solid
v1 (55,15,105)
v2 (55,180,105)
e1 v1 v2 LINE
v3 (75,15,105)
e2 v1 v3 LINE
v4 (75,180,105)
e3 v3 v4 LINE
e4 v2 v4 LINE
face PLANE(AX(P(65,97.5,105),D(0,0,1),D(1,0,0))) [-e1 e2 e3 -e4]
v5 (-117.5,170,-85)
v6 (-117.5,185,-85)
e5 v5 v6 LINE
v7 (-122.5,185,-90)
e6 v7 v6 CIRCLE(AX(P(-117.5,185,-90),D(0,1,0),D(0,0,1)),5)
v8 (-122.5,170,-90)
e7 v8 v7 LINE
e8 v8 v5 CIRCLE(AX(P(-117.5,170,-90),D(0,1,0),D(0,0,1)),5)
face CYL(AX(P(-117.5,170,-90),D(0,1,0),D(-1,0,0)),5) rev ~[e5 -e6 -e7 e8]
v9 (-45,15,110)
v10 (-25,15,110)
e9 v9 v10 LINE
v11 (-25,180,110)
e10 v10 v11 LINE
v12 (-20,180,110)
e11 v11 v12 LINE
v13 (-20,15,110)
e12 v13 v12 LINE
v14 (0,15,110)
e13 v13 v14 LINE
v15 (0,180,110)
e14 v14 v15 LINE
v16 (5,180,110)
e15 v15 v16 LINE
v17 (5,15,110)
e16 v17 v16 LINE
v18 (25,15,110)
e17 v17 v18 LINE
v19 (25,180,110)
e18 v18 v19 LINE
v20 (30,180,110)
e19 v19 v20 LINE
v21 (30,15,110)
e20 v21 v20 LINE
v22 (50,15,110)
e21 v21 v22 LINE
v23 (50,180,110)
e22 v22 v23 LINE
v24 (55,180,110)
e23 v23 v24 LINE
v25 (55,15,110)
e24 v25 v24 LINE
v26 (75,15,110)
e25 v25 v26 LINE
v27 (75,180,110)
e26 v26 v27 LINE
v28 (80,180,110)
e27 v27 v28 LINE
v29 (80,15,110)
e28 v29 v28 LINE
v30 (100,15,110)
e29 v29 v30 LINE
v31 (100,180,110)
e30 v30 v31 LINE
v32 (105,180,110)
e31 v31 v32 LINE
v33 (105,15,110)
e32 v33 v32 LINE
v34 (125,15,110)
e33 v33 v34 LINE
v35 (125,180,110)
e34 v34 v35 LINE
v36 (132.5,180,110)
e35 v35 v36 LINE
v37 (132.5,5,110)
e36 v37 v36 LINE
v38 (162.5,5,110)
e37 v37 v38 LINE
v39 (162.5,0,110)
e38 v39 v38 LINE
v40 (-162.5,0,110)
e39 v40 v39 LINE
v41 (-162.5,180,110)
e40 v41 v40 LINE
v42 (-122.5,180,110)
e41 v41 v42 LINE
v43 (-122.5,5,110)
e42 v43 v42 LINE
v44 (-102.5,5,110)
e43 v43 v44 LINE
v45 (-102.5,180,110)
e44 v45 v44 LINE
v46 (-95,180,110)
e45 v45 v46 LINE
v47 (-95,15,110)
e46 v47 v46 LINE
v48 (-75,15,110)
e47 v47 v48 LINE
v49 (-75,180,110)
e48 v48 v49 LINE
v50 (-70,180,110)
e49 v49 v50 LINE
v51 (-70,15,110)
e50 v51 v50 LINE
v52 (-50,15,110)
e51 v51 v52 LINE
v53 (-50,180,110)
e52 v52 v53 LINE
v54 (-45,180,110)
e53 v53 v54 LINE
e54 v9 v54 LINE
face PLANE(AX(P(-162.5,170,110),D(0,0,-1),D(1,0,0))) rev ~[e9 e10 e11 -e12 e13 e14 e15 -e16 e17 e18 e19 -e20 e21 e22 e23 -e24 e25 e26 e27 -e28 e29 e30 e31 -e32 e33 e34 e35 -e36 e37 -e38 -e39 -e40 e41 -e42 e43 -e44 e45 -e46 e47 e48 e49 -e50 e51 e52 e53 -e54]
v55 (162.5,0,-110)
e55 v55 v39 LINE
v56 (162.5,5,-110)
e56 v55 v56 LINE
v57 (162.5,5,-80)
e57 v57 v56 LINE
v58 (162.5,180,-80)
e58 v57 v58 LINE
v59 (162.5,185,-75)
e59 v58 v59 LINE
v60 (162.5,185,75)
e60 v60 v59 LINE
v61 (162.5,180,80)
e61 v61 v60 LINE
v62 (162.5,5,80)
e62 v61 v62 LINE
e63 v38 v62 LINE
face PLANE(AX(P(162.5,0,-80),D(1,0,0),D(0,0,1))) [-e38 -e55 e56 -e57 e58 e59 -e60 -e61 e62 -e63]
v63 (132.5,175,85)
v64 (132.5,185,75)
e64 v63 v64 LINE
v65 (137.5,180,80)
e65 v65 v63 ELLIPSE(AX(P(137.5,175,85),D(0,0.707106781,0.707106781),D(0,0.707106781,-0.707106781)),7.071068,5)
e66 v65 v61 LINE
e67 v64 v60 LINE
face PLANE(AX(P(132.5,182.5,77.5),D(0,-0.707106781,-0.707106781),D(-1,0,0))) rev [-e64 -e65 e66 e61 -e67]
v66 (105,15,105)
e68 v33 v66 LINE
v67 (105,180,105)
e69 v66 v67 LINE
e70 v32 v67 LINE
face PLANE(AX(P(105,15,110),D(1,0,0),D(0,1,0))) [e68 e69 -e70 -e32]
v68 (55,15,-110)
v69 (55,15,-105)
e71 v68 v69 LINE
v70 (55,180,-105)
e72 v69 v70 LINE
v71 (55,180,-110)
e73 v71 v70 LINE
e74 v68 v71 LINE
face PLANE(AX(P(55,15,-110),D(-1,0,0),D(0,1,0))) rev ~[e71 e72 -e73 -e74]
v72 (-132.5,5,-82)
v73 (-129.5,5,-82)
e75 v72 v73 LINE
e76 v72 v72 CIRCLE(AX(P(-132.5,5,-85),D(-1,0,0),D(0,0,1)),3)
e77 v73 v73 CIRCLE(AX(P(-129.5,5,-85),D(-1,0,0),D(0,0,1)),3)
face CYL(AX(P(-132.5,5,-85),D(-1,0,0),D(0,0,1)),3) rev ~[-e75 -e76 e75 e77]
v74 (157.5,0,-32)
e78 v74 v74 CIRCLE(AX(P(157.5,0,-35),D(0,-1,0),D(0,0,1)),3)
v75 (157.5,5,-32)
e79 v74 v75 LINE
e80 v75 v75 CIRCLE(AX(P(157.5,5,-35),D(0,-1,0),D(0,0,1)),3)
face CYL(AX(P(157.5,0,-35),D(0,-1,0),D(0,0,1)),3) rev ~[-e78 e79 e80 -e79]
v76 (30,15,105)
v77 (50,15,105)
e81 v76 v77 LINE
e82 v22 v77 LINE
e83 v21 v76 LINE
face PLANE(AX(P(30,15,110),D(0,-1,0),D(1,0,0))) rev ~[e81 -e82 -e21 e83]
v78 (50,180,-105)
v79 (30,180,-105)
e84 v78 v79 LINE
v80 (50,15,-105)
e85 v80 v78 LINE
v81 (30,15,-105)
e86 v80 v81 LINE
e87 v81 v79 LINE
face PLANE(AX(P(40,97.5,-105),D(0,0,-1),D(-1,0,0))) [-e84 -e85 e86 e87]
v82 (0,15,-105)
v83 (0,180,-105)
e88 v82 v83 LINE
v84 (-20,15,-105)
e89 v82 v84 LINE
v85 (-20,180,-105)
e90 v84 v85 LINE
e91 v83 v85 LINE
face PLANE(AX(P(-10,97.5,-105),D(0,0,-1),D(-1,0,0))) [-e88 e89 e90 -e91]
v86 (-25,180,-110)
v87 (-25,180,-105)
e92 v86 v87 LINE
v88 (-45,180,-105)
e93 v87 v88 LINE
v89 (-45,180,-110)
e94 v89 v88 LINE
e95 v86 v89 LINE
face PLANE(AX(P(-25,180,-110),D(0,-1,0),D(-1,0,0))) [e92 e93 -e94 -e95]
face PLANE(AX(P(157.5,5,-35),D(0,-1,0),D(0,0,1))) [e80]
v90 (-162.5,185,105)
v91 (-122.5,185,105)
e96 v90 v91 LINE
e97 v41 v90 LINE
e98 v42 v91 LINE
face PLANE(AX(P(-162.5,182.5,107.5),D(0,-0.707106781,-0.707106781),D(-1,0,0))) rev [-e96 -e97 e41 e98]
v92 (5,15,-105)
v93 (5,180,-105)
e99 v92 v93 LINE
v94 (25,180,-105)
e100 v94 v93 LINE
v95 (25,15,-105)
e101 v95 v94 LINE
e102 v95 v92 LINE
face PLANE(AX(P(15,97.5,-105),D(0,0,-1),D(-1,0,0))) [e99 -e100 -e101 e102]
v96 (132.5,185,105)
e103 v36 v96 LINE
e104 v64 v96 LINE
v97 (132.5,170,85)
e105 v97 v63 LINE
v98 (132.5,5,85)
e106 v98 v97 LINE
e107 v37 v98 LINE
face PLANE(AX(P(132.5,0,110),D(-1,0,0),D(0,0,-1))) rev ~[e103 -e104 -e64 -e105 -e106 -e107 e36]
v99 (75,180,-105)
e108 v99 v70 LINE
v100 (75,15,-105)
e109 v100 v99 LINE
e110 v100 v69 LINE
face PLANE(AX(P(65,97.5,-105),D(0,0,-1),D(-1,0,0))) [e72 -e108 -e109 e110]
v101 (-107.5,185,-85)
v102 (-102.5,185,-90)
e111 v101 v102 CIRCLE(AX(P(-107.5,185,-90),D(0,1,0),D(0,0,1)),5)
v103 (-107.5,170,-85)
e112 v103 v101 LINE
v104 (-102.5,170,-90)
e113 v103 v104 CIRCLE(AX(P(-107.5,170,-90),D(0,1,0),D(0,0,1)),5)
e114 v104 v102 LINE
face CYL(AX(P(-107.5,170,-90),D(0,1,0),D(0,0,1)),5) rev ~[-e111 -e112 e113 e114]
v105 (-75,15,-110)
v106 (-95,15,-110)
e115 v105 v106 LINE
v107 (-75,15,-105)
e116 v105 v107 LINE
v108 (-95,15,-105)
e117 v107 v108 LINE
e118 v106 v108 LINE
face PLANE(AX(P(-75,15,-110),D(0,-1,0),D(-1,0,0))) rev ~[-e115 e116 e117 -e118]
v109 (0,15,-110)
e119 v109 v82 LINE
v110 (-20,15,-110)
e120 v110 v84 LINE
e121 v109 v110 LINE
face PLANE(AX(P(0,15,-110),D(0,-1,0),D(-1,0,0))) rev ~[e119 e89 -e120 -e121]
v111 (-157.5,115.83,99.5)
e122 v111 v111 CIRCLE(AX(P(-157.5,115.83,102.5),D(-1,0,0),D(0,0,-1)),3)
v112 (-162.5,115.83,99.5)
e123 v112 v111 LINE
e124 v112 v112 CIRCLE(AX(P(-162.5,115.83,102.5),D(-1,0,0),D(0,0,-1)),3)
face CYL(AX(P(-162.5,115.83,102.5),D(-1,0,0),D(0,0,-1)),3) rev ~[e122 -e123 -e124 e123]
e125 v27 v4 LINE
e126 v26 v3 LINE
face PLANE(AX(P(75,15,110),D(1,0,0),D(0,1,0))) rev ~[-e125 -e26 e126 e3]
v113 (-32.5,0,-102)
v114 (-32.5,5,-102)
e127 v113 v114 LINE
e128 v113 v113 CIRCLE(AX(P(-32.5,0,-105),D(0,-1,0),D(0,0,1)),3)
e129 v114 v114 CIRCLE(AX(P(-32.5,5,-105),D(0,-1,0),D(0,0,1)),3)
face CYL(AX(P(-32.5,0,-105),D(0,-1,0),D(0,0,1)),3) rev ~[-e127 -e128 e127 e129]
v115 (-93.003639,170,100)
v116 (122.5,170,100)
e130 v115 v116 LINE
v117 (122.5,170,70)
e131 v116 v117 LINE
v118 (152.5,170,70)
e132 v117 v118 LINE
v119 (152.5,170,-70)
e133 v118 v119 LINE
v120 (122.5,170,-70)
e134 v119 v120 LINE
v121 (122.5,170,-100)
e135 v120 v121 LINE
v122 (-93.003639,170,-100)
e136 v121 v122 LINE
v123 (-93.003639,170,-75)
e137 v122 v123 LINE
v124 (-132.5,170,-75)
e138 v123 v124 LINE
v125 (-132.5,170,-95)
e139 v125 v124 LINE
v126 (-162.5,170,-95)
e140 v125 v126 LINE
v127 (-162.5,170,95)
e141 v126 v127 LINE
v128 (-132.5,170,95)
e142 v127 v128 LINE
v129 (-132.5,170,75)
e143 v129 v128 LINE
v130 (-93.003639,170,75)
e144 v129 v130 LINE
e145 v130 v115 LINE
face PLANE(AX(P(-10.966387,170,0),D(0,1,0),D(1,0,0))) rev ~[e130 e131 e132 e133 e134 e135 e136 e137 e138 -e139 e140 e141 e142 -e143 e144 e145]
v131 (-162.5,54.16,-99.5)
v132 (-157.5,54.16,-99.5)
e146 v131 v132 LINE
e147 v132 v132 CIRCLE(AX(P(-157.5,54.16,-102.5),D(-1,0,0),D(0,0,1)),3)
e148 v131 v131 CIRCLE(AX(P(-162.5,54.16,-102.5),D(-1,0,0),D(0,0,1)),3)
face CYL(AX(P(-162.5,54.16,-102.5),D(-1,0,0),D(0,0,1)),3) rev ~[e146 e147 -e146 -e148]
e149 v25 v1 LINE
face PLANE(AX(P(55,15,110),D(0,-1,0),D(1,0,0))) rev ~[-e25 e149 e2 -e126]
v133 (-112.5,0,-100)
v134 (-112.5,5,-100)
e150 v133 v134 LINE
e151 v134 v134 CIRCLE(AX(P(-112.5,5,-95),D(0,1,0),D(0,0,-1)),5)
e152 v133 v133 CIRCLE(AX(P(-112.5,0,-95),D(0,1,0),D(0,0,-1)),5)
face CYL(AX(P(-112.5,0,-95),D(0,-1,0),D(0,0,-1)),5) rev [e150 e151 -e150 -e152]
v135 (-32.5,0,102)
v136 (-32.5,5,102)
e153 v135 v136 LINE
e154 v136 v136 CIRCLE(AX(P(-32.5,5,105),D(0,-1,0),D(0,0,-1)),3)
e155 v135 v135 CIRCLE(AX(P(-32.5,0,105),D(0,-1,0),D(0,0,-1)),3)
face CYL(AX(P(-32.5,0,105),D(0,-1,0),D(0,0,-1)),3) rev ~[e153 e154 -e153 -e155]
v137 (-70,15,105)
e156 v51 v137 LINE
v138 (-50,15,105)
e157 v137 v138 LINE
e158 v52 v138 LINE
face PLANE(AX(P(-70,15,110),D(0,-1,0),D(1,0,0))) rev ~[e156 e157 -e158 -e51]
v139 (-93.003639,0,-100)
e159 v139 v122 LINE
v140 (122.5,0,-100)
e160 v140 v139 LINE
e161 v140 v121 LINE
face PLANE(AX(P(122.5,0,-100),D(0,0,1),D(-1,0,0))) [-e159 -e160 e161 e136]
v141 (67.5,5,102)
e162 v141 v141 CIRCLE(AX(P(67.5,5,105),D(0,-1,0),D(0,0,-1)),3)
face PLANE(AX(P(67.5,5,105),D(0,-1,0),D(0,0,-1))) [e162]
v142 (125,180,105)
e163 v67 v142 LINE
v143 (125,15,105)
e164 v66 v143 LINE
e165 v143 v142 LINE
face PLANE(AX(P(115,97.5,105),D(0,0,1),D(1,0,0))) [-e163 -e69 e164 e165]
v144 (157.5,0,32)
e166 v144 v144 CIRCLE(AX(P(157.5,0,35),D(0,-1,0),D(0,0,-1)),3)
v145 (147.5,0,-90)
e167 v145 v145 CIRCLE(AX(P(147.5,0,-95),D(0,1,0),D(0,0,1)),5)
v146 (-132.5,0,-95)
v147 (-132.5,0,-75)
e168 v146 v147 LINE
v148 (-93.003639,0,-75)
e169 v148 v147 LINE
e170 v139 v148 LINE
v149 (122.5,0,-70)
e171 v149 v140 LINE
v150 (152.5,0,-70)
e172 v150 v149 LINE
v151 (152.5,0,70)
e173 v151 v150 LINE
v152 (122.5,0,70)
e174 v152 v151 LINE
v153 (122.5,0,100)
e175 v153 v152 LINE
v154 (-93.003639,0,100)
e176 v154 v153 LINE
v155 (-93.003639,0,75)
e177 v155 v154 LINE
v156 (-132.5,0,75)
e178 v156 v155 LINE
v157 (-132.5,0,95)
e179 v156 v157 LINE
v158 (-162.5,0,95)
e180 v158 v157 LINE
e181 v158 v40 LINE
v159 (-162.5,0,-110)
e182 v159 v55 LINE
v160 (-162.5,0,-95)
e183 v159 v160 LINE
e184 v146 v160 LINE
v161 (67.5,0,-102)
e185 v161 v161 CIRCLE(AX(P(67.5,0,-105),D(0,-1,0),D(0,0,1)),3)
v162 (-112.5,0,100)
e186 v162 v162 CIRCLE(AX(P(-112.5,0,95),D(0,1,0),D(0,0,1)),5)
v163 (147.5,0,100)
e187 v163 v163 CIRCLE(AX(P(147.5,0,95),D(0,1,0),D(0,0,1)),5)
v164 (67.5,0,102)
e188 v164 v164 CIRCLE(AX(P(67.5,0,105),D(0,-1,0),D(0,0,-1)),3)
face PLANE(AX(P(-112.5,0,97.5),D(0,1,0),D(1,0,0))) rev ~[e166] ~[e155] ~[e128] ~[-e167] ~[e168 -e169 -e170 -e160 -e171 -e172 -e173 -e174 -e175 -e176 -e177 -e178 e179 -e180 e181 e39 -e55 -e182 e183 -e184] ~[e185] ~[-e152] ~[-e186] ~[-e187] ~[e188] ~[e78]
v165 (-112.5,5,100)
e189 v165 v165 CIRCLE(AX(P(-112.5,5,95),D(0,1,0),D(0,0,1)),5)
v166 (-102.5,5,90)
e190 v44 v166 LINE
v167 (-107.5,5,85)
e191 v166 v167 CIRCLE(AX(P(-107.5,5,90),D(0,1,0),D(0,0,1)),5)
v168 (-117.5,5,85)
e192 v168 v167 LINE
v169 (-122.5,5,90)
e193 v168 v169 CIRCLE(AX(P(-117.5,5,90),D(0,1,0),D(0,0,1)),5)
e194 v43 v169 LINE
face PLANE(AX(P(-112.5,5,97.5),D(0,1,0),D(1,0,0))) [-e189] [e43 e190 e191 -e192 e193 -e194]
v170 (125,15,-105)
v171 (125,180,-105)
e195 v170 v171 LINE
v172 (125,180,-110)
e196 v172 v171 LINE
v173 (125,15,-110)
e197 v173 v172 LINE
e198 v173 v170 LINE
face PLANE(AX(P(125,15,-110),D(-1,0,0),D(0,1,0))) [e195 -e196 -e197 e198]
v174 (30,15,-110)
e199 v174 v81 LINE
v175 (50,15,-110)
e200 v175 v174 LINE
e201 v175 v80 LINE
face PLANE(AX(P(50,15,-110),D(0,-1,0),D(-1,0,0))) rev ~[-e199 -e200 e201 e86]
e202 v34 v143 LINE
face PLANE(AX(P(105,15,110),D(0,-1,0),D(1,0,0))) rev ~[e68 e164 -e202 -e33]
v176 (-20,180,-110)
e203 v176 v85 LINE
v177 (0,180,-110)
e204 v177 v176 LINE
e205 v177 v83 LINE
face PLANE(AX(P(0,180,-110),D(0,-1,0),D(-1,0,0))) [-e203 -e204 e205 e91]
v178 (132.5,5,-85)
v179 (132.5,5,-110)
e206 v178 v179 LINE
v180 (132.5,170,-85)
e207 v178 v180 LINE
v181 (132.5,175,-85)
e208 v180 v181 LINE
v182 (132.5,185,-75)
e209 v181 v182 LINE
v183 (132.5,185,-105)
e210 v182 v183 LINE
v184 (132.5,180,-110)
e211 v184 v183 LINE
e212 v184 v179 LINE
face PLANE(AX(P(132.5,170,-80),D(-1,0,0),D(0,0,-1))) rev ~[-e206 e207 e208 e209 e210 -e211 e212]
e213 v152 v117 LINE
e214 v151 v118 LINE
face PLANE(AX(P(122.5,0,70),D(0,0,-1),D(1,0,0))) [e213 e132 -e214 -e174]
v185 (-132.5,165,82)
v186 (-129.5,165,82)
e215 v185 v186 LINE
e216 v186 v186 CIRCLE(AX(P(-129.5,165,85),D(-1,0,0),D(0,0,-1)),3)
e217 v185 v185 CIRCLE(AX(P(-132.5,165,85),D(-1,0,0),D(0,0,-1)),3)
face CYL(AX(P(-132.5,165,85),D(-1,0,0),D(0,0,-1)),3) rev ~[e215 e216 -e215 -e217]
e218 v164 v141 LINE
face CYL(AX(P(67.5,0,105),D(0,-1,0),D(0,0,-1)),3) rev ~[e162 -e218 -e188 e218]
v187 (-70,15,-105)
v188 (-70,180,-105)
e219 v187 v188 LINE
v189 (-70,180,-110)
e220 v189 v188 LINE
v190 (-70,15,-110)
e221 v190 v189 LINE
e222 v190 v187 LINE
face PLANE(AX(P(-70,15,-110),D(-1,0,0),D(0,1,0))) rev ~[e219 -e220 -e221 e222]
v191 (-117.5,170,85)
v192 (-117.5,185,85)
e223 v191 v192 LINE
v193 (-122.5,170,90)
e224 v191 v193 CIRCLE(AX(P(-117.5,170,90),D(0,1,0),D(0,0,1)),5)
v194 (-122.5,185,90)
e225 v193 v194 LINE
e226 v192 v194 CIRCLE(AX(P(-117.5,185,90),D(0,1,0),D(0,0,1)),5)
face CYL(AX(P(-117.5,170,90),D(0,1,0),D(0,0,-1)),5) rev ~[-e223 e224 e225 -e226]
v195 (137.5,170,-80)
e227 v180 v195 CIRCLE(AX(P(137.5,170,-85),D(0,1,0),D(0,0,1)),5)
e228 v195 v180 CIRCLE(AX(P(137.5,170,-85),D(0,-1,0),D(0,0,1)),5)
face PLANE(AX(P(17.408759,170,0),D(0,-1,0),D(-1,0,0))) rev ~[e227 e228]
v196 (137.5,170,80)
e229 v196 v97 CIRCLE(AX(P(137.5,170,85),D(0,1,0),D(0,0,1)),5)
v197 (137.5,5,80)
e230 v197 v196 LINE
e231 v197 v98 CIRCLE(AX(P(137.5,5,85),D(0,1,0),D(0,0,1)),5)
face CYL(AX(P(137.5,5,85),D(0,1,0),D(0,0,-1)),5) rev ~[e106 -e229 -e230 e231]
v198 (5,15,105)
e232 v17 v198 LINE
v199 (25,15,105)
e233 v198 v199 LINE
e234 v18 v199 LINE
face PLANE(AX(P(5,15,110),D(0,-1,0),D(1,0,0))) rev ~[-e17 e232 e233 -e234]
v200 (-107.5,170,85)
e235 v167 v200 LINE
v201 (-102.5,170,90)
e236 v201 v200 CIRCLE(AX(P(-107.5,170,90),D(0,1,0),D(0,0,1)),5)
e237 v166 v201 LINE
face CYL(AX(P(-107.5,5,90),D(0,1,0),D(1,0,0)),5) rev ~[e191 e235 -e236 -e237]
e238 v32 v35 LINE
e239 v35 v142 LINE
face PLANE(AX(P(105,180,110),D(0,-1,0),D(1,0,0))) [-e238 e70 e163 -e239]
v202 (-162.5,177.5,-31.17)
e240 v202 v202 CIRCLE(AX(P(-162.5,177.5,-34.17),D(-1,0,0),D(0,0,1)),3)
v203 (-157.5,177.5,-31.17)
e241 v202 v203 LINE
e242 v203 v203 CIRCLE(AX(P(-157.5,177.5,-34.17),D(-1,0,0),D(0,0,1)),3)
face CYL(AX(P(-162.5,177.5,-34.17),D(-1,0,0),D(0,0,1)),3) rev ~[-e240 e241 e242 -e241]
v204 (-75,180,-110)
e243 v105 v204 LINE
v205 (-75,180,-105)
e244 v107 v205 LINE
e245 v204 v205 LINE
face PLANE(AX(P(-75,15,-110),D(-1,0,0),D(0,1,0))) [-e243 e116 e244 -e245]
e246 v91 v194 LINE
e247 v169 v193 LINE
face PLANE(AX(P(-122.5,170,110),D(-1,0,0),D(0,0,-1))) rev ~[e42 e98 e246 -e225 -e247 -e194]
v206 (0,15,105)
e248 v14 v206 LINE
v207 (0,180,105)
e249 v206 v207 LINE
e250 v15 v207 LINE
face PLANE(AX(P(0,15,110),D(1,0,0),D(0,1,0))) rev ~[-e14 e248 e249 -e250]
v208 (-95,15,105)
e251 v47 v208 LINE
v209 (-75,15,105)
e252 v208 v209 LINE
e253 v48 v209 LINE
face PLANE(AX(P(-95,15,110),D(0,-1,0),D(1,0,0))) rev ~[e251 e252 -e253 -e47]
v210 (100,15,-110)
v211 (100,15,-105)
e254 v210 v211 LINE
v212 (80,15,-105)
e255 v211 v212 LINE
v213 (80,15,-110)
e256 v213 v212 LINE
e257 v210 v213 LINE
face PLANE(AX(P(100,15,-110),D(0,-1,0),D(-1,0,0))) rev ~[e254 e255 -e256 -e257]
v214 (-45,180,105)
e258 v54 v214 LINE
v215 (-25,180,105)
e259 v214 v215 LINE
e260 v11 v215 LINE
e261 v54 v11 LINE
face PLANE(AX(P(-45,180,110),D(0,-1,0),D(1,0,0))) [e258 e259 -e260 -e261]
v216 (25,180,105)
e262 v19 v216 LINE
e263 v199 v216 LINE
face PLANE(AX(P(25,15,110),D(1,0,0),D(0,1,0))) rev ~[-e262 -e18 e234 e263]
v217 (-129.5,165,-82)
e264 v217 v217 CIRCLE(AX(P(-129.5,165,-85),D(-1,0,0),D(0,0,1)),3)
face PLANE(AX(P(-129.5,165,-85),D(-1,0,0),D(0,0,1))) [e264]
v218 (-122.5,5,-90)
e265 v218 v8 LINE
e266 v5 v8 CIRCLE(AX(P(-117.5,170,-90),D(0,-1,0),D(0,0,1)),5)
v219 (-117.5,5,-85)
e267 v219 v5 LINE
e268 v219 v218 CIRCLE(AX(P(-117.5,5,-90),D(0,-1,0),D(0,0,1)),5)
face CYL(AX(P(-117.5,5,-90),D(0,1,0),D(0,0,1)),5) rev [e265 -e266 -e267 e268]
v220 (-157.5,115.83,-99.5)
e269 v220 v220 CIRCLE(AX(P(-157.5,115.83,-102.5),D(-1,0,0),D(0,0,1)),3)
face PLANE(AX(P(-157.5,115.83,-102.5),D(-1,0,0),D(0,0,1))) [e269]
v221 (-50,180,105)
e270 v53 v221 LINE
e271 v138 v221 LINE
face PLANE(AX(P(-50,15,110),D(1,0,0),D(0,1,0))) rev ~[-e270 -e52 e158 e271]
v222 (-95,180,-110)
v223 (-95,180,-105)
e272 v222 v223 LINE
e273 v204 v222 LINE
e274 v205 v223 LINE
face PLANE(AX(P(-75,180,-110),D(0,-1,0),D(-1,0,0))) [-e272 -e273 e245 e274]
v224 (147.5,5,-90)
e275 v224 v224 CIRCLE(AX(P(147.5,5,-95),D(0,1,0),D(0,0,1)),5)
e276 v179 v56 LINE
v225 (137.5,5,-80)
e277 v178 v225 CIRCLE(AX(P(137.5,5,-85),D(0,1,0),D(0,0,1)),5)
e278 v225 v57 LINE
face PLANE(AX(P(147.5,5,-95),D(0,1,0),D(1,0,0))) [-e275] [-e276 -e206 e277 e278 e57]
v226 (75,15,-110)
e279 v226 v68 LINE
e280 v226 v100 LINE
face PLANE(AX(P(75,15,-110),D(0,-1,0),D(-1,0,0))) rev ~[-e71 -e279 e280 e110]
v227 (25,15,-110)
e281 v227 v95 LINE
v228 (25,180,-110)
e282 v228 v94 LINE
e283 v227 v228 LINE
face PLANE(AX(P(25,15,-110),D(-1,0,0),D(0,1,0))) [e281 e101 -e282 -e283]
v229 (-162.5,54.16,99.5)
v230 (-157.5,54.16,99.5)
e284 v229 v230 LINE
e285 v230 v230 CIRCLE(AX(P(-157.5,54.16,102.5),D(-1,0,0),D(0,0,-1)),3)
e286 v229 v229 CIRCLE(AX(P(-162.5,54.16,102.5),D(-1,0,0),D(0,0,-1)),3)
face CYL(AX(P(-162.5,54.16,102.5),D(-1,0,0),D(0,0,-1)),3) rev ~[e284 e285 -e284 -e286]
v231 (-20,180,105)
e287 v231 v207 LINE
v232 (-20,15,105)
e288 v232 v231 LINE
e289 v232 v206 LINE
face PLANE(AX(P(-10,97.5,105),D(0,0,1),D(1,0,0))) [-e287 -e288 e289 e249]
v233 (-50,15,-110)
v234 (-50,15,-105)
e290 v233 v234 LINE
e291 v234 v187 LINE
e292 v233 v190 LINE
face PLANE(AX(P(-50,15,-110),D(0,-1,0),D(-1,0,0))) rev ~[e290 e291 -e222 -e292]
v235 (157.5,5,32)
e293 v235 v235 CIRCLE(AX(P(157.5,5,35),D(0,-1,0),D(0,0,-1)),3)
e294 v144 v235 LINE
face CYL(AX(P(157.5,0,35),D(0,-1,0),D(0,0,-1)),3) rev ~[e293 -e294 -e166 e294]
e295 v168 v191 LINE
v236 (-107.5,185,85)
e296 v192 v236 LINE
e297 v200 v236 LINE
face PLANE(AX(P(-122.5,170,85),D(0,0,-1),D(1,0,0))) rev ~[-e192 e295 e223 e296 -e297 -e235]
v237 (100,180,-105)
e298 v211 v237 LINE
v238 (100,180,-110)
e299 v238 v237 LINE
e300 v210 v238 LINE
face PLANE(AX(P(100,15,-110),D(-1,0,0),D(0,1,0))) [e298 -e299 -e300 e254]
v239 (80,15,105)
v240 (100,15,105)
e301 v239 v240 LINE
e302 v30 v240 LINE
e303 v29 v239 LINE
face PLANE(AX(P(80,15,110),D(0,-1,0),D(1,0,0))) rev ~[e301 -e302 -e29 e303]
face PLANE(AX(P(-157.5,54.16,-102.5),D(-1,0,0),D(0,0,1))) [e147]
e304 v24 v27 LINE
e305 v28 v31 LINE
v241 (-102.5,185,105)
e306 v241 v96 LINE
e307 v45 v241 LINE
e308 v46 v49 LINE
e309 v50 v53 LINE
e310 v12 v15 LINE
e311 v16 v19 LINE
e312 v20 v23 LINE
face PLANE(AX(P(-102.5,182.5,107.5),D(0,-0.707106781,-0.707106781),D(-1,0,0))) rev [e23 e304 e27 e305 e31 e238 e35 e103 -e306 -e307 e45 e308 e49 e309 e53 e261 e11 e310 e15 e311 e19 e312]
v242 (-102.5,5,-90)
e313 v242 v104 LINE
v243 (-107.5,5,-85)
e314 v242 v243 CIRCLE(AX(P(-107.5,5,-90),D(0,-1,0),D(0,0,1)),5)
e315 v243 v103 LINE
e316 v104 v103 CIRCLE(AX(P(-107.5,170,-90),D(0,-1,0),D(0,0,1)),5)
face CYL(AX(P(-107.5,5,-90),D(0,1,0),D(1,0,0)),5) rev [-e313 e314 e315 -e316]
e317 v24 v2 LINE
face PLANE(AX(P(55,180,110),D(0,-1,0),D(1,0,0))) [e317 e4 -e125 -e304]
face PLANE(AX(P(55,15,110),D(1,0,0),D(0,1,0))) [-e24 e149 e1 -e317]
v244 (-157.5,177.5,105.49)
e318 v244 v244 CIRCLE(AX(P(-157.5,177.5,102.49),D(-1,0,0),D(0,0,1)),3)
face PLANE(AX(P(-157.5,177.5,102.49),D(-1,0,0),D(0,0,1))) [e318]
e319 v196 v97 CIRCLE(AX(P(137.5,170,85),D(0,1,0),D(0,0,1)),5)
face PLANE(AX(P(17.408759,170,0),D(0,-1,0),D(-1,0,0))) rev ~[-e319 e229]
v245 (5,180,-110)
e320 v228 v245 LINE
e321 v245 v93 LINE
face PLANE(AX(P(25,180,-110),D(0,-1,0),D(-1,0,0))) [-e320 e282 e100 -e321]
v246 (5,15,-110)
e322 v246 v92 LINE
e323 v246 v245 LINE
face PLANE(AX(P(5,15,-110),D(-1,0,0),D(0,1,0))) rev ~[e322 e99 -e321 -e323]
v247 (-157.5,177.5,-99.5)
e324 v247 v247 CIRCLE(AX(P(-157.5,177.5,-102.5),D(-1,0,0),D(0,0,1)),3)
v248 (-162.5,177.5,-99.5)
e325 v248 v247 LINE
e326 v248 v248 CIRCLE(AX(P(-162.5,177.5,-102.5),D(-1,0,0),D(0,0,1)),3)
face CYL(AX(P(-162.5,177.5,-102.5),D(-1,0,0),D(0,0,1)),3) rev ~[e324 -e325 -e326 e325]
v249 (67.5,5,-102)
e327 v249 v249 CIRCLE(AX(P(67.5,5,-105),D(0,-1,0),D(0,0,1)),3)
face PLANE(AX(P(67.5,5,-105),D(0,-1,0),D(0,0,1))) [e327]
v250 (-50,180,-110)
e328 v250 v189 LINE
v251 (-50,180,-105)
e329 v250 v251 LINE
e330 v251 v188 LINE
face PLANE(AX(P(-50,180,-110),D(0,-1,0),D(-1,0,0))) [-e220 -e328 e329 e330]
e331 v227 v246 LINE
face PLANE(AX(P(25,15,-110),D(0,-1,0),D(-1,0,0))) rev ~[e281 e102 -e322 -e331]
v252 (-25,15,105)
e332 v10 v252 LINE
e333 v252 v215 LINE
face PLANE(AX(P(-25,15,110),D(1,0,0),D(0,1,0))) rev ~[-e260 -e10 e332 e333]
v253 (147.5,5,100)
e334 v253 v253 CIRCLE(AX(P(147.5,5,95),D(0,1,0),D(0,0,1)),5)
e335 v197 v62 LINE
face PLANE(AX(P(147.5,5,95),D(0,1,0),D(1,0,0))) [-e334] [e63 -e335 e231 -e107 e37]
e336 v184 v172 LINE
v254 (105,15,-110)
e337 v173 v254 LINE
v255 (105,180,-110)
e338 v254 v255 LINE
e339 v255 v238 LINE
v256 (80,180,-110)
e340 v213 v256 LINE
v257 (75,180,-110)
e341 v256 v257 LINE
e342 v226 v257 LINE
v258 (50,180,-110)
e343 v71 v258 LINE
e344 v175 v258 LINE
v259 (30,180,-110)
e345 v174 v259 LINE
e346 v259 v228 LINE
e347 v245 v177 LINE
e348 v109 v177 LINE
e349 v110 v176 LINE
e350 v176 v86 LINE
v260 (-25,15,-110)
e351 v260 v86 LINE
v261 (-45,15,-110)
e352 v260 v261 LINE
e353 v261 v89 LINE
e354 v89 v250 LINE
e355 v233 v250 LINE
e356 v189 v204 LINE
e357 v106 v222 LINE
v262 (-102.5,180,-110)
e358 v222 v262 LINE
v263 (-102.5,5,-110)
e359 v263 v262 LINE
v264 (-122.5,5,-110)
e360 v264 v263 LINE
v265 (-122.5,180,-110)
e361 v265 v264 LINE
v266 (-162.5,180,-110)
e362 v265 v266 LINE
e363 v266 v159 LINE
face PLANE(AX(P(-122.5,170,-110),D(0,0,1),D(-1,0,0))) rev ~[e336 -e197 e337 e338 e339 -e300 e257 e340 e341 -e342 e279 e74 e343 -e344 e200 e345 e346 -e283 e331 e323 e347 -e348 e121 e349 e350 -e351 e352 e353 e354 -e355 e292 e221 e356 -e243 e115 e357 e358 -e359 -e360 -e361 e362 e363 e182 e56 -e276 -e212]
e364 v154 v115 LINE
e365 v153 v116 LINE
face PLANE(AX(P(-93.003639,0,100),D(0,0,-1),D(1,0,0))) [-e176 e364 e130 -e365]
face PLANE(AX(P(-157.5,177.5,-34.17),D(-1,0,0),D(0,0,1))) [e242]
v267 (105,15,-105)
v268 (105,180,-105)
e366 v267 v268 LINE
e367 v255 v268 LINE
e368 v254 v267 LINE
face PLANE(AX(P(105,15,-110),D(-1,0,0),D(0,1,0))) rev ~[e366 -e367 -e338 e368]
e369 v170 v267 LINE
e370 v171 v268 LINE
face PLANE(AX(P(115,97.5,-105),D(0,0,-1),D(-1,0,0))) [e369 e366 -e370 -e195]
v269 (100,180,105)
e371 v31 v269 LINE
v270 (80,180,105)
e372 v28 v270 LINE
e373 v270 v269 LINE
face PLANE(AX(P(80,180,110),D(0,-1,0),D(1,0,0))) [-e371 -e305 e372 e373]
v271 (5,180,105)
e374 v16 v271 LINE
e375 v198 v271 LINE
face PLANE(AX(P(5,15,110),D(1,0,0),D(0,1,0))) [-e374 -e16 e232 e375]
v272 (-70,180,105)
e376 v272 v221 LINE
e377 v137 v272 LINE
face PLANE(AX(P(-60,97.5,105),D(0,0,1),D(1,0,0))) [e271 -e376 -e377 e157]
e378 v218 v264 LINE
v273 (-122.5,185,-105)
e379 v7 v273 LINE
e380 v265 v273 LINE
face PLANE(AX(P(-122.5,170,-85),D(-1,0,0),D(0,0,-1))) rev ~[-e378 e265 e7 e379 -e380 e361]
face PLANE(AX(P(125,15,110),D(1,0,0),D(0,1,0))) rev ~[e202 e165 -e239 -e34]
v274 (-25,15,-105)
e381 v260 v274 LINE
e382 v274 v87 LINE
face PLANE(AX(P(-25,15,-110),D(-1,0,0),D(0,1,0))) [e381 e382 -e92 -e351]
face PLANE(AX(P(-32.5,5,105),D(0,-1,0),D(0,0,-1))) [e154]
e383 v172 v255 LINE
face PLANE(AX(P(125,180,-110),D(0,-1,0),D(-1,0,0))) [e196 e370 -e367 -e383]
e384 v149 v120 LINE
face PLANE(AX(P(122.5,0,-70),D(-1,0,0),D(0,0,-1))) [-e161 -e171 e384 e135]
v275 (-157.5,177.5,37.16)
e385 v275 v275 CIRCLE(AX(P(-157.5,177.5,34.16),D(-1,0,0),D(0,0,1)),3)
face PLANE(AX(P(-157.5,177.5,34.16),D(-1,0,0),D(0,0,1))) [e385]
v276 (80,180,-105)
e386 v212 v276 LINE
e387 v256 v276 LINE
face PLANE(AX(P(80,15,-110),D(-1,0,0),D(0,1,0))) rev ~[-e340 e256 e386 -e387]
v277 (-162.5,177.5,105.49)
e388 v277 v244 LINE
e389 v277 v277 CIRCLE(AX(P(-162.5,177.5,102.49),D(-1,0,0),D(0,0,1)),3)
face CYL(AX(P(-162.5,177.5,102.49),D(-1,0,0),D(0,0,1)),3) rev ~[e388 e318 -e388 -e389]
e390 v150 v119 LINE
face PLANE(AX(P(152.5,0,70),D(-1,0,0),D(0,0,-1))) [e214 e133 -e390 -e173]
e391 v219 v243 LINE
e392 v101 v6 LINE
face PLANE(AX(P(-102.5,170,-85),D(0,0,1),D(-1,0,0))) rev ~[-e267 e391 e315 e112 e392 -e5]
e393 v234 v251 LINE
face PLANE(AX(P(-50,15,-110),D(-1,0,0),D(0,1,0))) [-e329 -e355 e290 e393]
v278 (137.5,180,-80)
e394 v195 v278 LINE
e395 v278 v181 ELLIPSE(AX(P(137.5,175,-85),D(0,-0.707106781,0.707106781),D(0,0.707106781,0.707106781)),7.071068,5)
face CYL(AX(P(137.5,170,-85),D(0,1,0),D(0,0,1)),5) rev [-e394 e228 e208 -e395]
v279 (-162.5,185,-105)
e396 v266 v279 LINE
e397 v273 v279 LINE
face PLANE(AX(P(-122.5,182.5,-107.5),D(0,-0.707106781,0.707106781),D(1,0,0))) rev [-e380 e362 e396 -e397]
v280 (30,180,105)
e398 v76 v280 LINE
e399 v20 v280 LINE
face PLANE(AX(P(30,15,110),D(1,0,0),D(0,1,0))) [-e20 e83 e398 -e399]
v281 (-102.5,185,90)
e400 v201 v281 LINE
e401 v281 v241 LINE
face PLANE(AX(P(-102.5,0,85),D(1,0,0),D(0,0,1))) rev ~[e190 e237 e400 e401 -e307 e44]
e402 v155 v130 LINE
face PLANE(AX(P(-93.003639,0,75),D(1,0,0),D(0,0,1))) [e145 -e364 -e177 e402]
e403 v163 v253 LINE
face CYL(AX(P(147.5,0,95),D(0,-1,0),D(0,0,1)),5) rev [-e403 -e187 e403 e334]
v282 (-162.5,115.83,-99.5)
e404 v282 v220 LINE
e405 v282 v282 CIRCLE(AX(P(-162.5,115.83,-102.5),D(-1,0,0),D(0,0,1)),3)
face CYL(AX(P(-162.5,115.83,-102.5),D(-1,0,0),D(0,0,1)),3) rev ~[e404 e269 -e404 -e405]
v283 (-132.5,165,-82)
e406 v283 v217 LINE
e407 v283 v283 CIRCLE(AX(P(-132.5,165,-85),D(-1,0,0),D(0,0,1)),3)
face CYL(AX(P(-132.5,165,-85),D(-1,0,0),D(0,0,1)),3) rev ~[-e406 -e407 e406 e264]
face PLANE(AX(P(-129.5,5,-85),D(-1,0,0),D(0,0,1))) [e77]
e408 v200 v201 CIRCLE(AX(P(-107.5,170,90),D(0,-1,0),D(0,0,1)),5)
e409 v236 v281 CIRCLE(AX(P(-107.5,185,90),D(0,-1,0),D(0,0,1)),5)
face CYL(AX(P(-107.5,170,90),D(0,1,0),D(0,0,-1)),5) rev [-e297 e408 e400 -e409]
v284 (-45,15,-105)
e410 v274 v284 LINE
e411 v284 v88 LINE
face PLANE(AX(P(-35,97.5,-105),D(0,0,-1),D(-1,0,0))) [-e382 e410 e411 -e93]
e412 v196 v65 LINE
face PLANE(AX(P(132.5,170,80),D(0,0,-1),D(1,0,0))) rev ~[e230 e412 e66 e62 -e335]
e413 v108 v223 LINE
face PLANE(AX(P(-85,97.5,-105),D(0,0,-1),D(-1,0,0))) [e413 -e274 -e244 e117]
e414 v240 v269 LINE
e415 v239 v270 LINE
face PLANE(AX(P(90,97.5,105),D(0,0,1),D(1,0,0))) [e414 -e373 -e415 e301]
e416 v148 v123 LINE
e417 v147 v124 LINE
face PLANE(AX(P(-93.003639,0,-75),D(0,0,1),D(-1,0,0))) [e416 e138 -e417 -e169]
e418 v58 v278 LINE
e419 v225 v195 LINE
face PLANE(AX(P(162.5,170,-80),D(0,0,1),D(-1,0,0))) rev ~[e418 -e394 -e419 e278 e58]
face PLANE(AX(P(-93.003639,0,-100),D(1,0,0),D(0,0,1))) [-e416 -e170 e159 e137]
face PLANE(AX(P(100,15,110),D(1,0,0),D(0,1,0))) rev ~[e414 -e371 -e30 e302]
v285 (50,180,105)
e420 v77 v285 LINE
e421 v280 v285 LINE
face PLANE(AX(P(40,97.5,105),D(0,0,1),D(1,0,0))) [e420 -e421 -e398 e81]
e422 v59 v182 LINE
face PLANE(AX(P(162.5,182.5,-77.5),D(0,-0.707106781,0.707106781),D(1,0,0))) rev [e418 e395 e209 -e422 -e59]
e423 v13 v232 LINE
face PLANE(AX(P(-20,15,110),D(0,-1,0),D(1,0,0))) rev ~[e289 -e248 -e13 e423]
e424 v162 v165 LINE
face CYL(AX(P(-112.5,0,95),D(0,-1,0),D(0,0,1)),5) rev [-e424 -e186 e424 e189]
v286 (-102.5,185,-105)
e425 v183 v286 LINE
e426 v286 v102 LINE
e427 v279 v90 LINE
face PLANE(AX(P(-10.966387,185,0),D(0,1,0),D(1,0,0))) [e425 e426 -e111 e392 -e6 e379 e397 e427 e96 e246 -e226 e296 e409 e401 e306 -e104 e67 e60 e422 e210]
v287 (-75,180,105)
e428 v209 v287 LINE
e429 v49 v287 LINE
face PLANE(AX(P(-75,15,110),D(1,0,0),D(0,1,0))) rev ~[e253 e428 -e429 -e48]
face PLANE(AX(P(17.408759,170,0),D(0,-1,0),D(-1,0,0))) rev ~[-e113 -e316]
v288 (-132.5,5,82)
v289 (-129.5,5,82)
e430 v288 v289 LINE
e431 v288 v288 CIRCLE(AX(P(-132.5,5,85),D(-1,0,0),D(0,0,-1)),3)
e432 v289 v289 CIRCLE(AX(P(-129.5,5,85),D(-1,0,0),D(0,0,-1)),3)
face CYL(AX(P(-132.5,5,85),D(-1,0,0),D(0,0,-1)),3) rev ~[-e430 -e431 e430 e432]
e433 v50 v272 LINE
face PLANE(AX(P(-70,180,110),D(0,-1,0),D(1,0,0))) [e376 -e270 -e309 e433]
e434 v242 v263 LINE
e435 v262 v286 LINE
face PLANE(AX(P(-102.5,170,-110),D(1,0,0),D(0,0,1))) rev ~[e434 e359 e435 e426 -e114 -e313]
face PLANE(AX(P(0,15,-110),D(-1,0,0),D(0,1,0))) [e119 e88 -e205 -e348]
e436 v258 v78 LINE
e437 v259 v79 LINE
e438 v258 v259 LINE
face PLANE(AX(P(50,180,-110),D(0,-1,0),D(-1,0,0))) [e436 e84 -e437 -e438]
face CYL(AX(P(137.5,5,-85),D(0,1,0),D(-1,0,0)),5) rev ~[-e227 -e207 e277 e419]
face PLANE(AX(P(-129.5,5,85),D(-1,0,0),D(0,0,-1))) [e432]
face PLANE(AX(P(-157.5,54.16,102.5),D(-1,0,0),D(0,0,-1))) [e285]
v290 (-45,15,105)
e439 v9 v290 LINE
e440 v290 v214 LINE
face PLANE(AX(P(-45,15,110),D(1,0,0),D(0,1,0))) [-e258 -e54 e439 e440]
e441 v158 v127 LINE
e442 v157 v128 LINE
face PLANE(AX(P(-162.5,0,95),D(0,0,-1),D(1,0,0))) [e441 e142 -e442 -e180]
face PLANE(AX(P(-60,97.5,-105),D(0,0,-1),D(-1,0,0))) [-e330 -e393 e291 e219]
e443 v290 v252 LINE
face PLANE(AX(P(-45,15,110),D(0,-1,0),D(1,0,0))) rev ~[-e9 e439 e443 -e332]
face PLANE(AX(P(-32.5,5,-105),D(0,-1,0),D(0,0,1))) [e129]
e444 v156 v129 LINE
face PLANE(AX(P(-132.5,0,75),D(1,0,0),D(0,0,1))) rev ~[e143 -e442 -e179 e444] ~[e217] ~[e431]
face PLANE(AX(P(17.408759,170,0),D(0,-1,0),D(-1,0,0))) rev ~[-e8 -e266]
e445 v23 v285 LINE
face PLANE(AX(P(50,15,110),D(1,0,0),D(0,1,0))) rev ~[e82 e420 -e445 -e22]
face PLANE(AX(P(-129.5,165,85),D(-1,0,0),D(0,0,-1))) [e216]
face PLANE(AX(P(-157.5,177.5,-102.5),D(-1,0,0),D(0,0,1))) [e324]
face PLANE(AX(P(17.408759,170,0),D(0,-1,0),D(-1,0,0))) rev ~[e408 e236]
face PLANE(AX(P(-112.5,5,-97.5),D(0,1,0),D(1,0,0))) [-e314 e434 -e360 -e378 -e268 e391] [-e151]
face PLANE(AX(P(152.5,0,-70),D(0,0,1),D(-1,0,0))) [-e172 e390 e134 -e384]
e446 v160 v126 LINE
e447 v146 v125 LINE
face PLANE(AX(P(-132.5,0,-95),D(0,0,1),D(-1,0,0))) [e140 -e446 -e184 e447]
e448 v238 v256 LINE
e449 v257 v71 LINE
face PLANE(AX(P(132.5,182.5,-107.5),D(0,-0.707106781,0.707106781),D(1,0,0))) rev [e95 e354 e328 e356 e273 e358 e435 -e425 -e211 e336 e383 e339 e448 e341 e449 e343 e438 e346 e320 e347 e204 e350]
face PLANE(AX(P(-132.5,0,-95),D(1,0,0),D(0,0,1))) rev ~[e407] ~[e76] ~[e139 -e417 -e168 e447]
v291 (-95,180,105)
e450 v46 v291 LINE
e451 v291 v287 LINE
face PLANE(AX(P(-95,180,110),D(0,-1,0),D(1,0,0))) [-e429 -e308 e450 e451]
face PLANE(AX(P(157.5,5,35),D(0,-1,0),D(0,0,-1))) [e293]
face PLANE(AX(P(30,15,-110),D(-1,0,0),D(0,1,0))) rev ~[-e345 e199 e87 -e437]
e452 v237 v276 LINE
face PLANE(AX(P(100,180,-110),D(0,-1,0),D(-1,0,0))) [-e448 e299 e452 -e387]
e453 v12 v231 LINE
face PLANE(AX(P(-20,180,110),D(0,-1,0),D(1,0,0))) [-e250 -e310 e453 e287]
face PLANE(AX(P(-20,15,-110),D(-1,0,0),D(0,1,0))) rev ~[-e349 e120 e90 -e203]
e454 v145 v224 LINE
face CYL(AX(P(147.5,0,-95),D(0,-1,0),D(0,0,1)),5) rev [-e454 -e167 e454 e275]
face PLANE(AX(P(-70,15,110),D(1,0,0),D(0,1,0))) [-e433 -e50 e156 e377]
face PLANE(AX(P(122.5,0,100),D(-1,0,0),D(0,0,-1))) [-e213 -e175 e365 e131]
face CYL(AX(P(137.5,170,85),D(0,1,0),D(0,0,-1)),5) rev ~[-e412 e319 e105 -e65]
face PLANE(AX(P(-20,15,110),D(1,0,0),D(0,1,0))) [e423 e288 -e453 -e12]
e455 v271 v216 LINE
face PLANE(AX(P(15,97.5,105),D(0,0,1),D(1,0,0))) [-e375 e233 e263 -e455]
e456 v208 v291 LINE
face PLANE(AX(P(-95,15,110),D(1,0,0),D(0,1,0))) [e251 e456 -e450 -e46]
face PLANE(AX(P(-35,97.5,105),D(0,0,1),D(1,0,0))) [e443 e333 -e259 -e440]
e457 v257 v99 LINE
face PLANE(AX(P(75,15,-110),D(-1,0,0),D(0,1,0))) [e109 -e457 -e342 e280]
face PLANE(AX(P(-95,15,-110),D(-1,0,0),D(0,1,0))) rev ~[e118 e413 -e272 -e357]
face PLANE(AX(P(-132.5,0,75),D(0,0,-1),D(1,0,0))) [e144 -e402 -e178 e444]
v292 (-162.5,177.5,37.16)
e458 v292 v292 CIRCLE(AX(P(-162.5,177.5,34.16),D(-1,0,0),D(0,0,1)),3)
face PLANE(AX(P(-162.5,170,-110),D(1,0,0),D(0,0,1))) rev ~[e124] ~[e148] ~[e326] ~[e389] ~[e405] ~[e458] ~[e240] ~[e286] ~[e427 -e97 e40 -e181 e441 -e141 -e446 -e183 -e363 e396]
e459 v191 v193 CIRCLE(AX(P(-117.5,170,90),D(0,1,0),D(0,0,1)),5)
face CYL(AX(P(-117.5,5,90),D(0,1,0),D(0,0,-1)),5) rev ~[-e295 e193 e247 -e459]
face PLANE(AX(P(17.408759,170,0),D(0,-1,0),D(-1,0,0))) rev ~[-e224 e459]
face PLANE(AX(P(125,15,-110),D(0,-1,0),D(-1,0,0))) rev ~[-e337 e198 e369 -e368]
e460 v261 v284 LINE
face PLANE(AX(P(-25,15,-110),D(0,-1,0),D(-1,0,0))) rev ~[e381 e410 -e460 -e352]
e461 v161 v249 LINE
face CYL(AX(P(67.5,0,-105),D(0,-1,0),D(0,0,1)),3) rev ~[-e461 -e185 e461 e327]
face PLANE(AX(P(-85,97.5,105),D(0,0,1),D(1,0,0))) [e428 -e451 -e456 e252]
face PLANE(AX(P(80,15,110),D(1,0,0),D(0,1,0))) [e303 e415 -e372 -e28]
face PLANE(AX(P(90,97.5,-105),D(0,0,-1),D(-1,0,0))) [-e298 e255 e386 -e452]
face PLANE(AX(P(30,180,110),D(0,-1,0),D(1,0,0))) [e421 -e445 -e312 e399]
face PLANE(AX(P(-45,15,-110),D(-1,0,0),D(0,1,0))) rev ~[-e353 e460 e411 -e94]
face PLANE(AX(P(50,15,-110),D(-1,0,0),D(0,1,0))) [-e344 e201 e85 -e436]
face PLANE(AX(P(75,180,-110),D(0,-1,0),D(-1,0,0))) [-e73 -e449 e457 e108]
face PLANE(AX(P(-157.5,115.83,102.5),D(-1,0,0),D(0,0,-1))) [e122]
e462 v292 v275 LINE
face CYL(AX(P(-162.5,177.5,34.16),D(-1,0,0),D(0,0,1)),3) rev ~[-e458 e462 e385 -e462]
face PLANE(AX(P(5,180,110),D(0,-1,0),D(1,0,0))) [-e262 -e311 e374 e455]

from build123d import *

# Parameters (mm, degrees)
BOSS_EXTRUDE1_DEPTH = 170
SKETCH3_W           = 20
SKETCH3_H           = 25
SKETCH3_R           = 5
SKETCH3_W_2         = 30
SKETCH3_H_2         = 30
BOSS_EXTRUDE2_DEPTH = 5
FILLET1_R           = 5
SKETCH5_R           = 3
CUT_EXTRUDE1_DEPTH  = 3
BOSS_EXTRUDE5_DEPTH = 15
CHAMFER1_SIZE       = 5
FILLET2_R           = 5
SKETCH15_R          = 3
CUT_EXTRUDE2_DEPTH  = 5
SKETCH16_R          = 3
CUT_EXTRUDE3_DEPTH  = 5
SKETCH18_W          = 20
SKETCH18_H          = 165
CUT_EXTRUDE9_DEPTH  = 5
SKETCH21_W          = 20
SKETCH21_H          = 165
CUT_EXTRUDE10_DEPTH = 5


with BuildPart() as part:
    # Sketch1 → Boss-Extrude1 (new body)
    with BuildSketch(Plane(origin=(0, 0, 0), x_dir=(1, 0, 0), z_dir=(0, 1, 0))):
        Polygon((162.5, 80), (162.5, -80), (152.5, -80), (147.5, -80), (132.5, -80), (132.5, -95), (132.5, -100), (132.5, -110), (-102.5, -110), (-102.5, -100), (-102.5, -85), (-112.5, -85), (-122.5, -85), (-122.5, -100), (-122.5, -110), (-162.5, -110), (-162.5, -100), (-162.5, -95), (-132.5, -95), (-132.5, -85), (-132.5, -75), (-93.003639463, -75), (-93.003639463, -100), (122.5, -100), (122.5, -70), (152.5, -70), (152.5, 70), (122.5, 70), (122.5, 100), (-93.003639463, 100), (-93.003639463, 75), (-132.5, 75), (-132.5, 85), (-132.5, 95), (-162.5, 95), (-162.5, 100), (-162.5, 110), (-122.5, 110), (-122.5, 100), (-122.5, 85), (-112.5, 85), (-102.5, 85), (-102.5, 100), (-102.5, 110), (132.5, 110), (132.5, 100), (132.5, 95), (132.5, 80), (147.5, 80), (152.5, 80), align=None)
    extrude(amount=BOSS_EXTRUDE1_DEPTH)

    # Sketch3 → Boss-Extrude2 (add)
    # profile 1 of 4: a face of its own
    with BuildSketch(Plane(origin=(0, 0, 0), x_dir=(1, 0, 0), z_dir=(0, 1, 0))):
        with Locations((-112.5, -97.5)):
            Rectangle(SKETCH3_W, SKETCH3_H)
        with Locations(Location((-112.5, -95, 0), (0, 0, 270))):
            Circle(SKETCH3_R, mode=Mode.SUBTRACT)
    # profile 2 of 4: a face of its own
    with BuildSketch(Plane(origin=(0, 0, 0), x_dir=(1, 0, 0), z_dir=(0, 1, 0))):
        with Locations((147.5, -95)):
            Rectangle(SKETCH3_W_2, SKETCH3_H_2)
        with Locations(Location((147.5, -95, 0), (0, 0, 270))):
            Circle(SKETCH3_R, mode=Mode.SUBTRACT)
    # profile 3 of 4: a face of its own
    with BuildSketch(Plane(origin=(0, 0, 0), x_dir=(1, 0, 0), z_dir=(0, 1, 0))):
        with Locations((-112.5, 97.5)):
            Rectangle(SKETCH3_W, SKETCH3_H)
        with Locations(Location((-112.5, 95, 0), (0, 0, 90))):
            Circle(SKETCH3_R, mode=Mode.SUBTRACT)
    # profile 4 of 4: a face of its own
    with BuildSketch(Plane(origin=(0, 0, 0), x_dir=(1, 0, 0), z_dir=(0, 1, 0))):
        with Locations((147.5, 95)):
            Rectangle(SKETCH3_W_2, SKETCH3_H_2)
        with Locations(Location((147.5, 95, 0), (0, 0, 270))):
            Circle(SKETCH3_R, mode=Mode.SUBTRACT)
    extrude(amount=BOSS_EXTRUDE2_DEPTH)

    # Fillet1
    fillet1_edges = [part.edges().sort_by_distance(p)[0] for p in [
        (-122.5, 87.5, 85),
        (-102.5, 87.5, 85),
        (132.5, 87.5, 80),
        (132.5, 87.5, -80),
        (-102.5, 87.5, -85),
        (-122.5, 87.5, -85),
    ]]
    fillet(fillet1_edges, radius=FILLET1_R)

    # Sketch5 → Cut-Extrude1 (cut)
    with BuildSketch(Plane.ZY.offset(132.5)):
        with Locations((-85, 5)):
            Circle(SKETCH5_R)
        with Locations(Location((85, 5, 0), (0, 0, 180))):
            Circle(SKETCH5_R)
        with Locations((-85, 165)):
            Circle(SKETCH5_R)
        with Locations(Location((85, 165, 0), (0, 0, 180))):
            Circle(SKETCH5_R)
    extrude(amount=-CUT_EXTRUDE1_DEPTH, mode=Mode.SUBTRACT)

    # Sketch10 → Boss-Extrude5 (add)
    with BuildSketch(Plane(origin=(0, 170, 0), x_dir=(1, 0, 0), z_dir=(0, 1, 0))):
        Polygon((-162.5, 95), (-162.5, -95), (-162.5, -100), (-162.5, -110), (-122.5, -110), (-122.5, -100), (-122.5, -85), (-112.5, -85), (-102.5, -85), (-102.5, -100), (-102.5, -110), (132.5, -110), (132.5, -100), (132.5, -95), (132.5, -80), (147.5, -80), (152.5, -80), (162.5, -80), (162.5, 80), (152.5, 80), (147.5, 80), (132.5, 80), (132.5, 95), (132.5, 100), (132.5, 110), (-102.5, 110), (-102.5, 100), (-102.5, 85), (-112.5, 85), (-122.5, 85), (-122.5, 100), (-122.5, 110), (-162.5, 110), (-162.5, 100), align=None)
    extrude(amount=BOSS_EXTRUDE5_DEPTH)

    # Chamfer1
    chamfer1_edges = [part.edges().sort_by_distance(p)[0] for p in [
        (147.5, 185, -80),
        (15, 185, -110),
        (-142.5, 185, -110),
        (-142.5, 185, 110),
        (15, 185, 110),
        (147.5, 185, 80),
    ]]
    chamfer(chamfer1_edges, length=CHAMFER1_SIZE)

    # Fillet2
    fillet2_edges = [part.edges().sort_by_distance(p)[0] for p in [
        (-122.5, 177.5, -85),
        (-102.5, 177.5, -85),
        (132.5, 175, -80),
        (132.5, 175, 80),
        (-102.5, 177.5, 85),
        (-122.5, 177.5, 85),
    ]]
    fillet(fillet2_edges, radius=FILLET2_R)

    # Sketch15 → Cut-Extrude2 (cut)
    with BuildSketch(Plane.XZ):
        with Locations(Location((67.5, -105, 0), (0, 0, 90))):
            Circle(SKETCH15_R)
        with Locations(Location((-32.5, -105, 0), (0, 0, 90))):
            Circle(SKETCH15_R)
        with Locations(Location((157.5, -35, 0), (0, 0, 90))):
            Circle(SKETCH15_R)
        with Locations(Location((157.5, 35, 0), (0, 0, 270))):
            Circle(SKETCH15_R)
        with Locations(Location((67.5, 105, 0), (0, 0, 270))):
            Circle(SKETCH15_R)
        with Locations(Location((-32.5, 105, 0), (0, 0, 270))):
            Circle(SKETCH15_R)
    extrude(amount=-CUT_EXTRUDE2_DEPTH, mode=Mode.SUBTRACT)

    # Sketch16 → Cut-Extrude3 (cut)
    with BuildSketch(Plane.ZY.offset(162.5)):
        with Locations((-102.5, 177.5)):
            Circle(SKETCH16_R)
        with Locations((-102.5, 115.83)):
            Circle(SKETCH16_R)
        with Locations((-102.5, 54.16)):
            Circle(SKETCH16_R)
        with Locations((-34.17, 177.5)):
            Circle(SKETCH16_R)
        with Locations((34.16, 177.5)):
            Circle(SKETCH16_R)
        with Locations((102.49, 177.5)):
            Circle(SKETCH16_R)
        with Locations(Location((102.5, 54.16, 0), (0, 0, 180))):
            Circle(SKETCH16_R)
        with Locations(Location((102.5, 115.83, 0), (0, 0, 180))):
            Circle(SKETCH16_R)
    extrude(amount=-CUT_EXTRUDE3_DEPTH, mode=Mode.SUBTRACT)

    # Sketch18 → Cut-Extrude9 (cut)
    with BuildSketch(Plane.XY.offset(110)):
        with Locations((-35, 97.5)):
            Rectangle(SKETCH18_W, SKETCH18_H)
        with Locations((-10, 97.5)):
            Rectangle(SKETCH18_W, SKETCH18_H)
        with Locations((15, 97.5)):
            Rectangle(SKETCH18_W, SKETCH18_H)
        with Locations((40, 97.5)):
            Rectangle(SKETCH18_W, SKETCH18_H)
        with Locations((65, 97.5)):
            Rectangle(SKETCH18_W, SKETCH18_H)
        with Locations((90, 97.5)):
            Rectangle(SKETCH18_W, SKETCH18_H)
        with Locations((115, 97.5)):
            Rectangle(SKETCH18_W, SKETCH18_H)
        with Locations((-85, 97.5)):
            Rectangle(SKETCH18_W, SKETCH18_H)
        with Locations((-60, 97.5)):
            Rectangle(SKETCH18_W, SKETCH18_H)
    extrude(amount=-CUT_EXTRUDE9_DEPTH, mode=Mode.SUBTRACT)

    # Sketch21 → Cut-Extrude10 (cut)
    with BuildSketch(Plane(origin=(0, 0, -110), x_dir=(-1, 0, 0), z_dir=(0, 0, -1))):
        with Locations((-90, 97.5)):
            Rectangle(SKETCH21_W, SKETCH21_H)
        with Locations((-65, 97.5)):
            Rectangle(SKETCH21_W, SKETCH21_H)
        with Locations((-40, 97.5)):
            Rectangle(SKETCH21_W, SKETCH21_H)
        with Locations((-15, 97.5)):
            Rectangle(SKETCH21_W, SKETCH21_H)
        with Locations((10, 97.5)):
            Rectangle(SKETCH21_W, SKETCH21_H)
        with Locations((35, 97.5)):
            Rectangle(SKETCH21_W, SKETCH21_H)
        with Locations((60, 97.5)):
            Rectangle(SKETCH21_W, SKETCH21_H)
        with Locations((85, 97.5)):
            Rectangle(SKETCH21_W, SKETCH21_H)
        with Locations((-115, 97.5)):
            Rectangle(SKETCH21_W, SKETCH21_H)
    extrude(amount=-CUT_EXTRUDE10_DEPTH, mode=Mode.SUBTRACT)


solid = part.part
